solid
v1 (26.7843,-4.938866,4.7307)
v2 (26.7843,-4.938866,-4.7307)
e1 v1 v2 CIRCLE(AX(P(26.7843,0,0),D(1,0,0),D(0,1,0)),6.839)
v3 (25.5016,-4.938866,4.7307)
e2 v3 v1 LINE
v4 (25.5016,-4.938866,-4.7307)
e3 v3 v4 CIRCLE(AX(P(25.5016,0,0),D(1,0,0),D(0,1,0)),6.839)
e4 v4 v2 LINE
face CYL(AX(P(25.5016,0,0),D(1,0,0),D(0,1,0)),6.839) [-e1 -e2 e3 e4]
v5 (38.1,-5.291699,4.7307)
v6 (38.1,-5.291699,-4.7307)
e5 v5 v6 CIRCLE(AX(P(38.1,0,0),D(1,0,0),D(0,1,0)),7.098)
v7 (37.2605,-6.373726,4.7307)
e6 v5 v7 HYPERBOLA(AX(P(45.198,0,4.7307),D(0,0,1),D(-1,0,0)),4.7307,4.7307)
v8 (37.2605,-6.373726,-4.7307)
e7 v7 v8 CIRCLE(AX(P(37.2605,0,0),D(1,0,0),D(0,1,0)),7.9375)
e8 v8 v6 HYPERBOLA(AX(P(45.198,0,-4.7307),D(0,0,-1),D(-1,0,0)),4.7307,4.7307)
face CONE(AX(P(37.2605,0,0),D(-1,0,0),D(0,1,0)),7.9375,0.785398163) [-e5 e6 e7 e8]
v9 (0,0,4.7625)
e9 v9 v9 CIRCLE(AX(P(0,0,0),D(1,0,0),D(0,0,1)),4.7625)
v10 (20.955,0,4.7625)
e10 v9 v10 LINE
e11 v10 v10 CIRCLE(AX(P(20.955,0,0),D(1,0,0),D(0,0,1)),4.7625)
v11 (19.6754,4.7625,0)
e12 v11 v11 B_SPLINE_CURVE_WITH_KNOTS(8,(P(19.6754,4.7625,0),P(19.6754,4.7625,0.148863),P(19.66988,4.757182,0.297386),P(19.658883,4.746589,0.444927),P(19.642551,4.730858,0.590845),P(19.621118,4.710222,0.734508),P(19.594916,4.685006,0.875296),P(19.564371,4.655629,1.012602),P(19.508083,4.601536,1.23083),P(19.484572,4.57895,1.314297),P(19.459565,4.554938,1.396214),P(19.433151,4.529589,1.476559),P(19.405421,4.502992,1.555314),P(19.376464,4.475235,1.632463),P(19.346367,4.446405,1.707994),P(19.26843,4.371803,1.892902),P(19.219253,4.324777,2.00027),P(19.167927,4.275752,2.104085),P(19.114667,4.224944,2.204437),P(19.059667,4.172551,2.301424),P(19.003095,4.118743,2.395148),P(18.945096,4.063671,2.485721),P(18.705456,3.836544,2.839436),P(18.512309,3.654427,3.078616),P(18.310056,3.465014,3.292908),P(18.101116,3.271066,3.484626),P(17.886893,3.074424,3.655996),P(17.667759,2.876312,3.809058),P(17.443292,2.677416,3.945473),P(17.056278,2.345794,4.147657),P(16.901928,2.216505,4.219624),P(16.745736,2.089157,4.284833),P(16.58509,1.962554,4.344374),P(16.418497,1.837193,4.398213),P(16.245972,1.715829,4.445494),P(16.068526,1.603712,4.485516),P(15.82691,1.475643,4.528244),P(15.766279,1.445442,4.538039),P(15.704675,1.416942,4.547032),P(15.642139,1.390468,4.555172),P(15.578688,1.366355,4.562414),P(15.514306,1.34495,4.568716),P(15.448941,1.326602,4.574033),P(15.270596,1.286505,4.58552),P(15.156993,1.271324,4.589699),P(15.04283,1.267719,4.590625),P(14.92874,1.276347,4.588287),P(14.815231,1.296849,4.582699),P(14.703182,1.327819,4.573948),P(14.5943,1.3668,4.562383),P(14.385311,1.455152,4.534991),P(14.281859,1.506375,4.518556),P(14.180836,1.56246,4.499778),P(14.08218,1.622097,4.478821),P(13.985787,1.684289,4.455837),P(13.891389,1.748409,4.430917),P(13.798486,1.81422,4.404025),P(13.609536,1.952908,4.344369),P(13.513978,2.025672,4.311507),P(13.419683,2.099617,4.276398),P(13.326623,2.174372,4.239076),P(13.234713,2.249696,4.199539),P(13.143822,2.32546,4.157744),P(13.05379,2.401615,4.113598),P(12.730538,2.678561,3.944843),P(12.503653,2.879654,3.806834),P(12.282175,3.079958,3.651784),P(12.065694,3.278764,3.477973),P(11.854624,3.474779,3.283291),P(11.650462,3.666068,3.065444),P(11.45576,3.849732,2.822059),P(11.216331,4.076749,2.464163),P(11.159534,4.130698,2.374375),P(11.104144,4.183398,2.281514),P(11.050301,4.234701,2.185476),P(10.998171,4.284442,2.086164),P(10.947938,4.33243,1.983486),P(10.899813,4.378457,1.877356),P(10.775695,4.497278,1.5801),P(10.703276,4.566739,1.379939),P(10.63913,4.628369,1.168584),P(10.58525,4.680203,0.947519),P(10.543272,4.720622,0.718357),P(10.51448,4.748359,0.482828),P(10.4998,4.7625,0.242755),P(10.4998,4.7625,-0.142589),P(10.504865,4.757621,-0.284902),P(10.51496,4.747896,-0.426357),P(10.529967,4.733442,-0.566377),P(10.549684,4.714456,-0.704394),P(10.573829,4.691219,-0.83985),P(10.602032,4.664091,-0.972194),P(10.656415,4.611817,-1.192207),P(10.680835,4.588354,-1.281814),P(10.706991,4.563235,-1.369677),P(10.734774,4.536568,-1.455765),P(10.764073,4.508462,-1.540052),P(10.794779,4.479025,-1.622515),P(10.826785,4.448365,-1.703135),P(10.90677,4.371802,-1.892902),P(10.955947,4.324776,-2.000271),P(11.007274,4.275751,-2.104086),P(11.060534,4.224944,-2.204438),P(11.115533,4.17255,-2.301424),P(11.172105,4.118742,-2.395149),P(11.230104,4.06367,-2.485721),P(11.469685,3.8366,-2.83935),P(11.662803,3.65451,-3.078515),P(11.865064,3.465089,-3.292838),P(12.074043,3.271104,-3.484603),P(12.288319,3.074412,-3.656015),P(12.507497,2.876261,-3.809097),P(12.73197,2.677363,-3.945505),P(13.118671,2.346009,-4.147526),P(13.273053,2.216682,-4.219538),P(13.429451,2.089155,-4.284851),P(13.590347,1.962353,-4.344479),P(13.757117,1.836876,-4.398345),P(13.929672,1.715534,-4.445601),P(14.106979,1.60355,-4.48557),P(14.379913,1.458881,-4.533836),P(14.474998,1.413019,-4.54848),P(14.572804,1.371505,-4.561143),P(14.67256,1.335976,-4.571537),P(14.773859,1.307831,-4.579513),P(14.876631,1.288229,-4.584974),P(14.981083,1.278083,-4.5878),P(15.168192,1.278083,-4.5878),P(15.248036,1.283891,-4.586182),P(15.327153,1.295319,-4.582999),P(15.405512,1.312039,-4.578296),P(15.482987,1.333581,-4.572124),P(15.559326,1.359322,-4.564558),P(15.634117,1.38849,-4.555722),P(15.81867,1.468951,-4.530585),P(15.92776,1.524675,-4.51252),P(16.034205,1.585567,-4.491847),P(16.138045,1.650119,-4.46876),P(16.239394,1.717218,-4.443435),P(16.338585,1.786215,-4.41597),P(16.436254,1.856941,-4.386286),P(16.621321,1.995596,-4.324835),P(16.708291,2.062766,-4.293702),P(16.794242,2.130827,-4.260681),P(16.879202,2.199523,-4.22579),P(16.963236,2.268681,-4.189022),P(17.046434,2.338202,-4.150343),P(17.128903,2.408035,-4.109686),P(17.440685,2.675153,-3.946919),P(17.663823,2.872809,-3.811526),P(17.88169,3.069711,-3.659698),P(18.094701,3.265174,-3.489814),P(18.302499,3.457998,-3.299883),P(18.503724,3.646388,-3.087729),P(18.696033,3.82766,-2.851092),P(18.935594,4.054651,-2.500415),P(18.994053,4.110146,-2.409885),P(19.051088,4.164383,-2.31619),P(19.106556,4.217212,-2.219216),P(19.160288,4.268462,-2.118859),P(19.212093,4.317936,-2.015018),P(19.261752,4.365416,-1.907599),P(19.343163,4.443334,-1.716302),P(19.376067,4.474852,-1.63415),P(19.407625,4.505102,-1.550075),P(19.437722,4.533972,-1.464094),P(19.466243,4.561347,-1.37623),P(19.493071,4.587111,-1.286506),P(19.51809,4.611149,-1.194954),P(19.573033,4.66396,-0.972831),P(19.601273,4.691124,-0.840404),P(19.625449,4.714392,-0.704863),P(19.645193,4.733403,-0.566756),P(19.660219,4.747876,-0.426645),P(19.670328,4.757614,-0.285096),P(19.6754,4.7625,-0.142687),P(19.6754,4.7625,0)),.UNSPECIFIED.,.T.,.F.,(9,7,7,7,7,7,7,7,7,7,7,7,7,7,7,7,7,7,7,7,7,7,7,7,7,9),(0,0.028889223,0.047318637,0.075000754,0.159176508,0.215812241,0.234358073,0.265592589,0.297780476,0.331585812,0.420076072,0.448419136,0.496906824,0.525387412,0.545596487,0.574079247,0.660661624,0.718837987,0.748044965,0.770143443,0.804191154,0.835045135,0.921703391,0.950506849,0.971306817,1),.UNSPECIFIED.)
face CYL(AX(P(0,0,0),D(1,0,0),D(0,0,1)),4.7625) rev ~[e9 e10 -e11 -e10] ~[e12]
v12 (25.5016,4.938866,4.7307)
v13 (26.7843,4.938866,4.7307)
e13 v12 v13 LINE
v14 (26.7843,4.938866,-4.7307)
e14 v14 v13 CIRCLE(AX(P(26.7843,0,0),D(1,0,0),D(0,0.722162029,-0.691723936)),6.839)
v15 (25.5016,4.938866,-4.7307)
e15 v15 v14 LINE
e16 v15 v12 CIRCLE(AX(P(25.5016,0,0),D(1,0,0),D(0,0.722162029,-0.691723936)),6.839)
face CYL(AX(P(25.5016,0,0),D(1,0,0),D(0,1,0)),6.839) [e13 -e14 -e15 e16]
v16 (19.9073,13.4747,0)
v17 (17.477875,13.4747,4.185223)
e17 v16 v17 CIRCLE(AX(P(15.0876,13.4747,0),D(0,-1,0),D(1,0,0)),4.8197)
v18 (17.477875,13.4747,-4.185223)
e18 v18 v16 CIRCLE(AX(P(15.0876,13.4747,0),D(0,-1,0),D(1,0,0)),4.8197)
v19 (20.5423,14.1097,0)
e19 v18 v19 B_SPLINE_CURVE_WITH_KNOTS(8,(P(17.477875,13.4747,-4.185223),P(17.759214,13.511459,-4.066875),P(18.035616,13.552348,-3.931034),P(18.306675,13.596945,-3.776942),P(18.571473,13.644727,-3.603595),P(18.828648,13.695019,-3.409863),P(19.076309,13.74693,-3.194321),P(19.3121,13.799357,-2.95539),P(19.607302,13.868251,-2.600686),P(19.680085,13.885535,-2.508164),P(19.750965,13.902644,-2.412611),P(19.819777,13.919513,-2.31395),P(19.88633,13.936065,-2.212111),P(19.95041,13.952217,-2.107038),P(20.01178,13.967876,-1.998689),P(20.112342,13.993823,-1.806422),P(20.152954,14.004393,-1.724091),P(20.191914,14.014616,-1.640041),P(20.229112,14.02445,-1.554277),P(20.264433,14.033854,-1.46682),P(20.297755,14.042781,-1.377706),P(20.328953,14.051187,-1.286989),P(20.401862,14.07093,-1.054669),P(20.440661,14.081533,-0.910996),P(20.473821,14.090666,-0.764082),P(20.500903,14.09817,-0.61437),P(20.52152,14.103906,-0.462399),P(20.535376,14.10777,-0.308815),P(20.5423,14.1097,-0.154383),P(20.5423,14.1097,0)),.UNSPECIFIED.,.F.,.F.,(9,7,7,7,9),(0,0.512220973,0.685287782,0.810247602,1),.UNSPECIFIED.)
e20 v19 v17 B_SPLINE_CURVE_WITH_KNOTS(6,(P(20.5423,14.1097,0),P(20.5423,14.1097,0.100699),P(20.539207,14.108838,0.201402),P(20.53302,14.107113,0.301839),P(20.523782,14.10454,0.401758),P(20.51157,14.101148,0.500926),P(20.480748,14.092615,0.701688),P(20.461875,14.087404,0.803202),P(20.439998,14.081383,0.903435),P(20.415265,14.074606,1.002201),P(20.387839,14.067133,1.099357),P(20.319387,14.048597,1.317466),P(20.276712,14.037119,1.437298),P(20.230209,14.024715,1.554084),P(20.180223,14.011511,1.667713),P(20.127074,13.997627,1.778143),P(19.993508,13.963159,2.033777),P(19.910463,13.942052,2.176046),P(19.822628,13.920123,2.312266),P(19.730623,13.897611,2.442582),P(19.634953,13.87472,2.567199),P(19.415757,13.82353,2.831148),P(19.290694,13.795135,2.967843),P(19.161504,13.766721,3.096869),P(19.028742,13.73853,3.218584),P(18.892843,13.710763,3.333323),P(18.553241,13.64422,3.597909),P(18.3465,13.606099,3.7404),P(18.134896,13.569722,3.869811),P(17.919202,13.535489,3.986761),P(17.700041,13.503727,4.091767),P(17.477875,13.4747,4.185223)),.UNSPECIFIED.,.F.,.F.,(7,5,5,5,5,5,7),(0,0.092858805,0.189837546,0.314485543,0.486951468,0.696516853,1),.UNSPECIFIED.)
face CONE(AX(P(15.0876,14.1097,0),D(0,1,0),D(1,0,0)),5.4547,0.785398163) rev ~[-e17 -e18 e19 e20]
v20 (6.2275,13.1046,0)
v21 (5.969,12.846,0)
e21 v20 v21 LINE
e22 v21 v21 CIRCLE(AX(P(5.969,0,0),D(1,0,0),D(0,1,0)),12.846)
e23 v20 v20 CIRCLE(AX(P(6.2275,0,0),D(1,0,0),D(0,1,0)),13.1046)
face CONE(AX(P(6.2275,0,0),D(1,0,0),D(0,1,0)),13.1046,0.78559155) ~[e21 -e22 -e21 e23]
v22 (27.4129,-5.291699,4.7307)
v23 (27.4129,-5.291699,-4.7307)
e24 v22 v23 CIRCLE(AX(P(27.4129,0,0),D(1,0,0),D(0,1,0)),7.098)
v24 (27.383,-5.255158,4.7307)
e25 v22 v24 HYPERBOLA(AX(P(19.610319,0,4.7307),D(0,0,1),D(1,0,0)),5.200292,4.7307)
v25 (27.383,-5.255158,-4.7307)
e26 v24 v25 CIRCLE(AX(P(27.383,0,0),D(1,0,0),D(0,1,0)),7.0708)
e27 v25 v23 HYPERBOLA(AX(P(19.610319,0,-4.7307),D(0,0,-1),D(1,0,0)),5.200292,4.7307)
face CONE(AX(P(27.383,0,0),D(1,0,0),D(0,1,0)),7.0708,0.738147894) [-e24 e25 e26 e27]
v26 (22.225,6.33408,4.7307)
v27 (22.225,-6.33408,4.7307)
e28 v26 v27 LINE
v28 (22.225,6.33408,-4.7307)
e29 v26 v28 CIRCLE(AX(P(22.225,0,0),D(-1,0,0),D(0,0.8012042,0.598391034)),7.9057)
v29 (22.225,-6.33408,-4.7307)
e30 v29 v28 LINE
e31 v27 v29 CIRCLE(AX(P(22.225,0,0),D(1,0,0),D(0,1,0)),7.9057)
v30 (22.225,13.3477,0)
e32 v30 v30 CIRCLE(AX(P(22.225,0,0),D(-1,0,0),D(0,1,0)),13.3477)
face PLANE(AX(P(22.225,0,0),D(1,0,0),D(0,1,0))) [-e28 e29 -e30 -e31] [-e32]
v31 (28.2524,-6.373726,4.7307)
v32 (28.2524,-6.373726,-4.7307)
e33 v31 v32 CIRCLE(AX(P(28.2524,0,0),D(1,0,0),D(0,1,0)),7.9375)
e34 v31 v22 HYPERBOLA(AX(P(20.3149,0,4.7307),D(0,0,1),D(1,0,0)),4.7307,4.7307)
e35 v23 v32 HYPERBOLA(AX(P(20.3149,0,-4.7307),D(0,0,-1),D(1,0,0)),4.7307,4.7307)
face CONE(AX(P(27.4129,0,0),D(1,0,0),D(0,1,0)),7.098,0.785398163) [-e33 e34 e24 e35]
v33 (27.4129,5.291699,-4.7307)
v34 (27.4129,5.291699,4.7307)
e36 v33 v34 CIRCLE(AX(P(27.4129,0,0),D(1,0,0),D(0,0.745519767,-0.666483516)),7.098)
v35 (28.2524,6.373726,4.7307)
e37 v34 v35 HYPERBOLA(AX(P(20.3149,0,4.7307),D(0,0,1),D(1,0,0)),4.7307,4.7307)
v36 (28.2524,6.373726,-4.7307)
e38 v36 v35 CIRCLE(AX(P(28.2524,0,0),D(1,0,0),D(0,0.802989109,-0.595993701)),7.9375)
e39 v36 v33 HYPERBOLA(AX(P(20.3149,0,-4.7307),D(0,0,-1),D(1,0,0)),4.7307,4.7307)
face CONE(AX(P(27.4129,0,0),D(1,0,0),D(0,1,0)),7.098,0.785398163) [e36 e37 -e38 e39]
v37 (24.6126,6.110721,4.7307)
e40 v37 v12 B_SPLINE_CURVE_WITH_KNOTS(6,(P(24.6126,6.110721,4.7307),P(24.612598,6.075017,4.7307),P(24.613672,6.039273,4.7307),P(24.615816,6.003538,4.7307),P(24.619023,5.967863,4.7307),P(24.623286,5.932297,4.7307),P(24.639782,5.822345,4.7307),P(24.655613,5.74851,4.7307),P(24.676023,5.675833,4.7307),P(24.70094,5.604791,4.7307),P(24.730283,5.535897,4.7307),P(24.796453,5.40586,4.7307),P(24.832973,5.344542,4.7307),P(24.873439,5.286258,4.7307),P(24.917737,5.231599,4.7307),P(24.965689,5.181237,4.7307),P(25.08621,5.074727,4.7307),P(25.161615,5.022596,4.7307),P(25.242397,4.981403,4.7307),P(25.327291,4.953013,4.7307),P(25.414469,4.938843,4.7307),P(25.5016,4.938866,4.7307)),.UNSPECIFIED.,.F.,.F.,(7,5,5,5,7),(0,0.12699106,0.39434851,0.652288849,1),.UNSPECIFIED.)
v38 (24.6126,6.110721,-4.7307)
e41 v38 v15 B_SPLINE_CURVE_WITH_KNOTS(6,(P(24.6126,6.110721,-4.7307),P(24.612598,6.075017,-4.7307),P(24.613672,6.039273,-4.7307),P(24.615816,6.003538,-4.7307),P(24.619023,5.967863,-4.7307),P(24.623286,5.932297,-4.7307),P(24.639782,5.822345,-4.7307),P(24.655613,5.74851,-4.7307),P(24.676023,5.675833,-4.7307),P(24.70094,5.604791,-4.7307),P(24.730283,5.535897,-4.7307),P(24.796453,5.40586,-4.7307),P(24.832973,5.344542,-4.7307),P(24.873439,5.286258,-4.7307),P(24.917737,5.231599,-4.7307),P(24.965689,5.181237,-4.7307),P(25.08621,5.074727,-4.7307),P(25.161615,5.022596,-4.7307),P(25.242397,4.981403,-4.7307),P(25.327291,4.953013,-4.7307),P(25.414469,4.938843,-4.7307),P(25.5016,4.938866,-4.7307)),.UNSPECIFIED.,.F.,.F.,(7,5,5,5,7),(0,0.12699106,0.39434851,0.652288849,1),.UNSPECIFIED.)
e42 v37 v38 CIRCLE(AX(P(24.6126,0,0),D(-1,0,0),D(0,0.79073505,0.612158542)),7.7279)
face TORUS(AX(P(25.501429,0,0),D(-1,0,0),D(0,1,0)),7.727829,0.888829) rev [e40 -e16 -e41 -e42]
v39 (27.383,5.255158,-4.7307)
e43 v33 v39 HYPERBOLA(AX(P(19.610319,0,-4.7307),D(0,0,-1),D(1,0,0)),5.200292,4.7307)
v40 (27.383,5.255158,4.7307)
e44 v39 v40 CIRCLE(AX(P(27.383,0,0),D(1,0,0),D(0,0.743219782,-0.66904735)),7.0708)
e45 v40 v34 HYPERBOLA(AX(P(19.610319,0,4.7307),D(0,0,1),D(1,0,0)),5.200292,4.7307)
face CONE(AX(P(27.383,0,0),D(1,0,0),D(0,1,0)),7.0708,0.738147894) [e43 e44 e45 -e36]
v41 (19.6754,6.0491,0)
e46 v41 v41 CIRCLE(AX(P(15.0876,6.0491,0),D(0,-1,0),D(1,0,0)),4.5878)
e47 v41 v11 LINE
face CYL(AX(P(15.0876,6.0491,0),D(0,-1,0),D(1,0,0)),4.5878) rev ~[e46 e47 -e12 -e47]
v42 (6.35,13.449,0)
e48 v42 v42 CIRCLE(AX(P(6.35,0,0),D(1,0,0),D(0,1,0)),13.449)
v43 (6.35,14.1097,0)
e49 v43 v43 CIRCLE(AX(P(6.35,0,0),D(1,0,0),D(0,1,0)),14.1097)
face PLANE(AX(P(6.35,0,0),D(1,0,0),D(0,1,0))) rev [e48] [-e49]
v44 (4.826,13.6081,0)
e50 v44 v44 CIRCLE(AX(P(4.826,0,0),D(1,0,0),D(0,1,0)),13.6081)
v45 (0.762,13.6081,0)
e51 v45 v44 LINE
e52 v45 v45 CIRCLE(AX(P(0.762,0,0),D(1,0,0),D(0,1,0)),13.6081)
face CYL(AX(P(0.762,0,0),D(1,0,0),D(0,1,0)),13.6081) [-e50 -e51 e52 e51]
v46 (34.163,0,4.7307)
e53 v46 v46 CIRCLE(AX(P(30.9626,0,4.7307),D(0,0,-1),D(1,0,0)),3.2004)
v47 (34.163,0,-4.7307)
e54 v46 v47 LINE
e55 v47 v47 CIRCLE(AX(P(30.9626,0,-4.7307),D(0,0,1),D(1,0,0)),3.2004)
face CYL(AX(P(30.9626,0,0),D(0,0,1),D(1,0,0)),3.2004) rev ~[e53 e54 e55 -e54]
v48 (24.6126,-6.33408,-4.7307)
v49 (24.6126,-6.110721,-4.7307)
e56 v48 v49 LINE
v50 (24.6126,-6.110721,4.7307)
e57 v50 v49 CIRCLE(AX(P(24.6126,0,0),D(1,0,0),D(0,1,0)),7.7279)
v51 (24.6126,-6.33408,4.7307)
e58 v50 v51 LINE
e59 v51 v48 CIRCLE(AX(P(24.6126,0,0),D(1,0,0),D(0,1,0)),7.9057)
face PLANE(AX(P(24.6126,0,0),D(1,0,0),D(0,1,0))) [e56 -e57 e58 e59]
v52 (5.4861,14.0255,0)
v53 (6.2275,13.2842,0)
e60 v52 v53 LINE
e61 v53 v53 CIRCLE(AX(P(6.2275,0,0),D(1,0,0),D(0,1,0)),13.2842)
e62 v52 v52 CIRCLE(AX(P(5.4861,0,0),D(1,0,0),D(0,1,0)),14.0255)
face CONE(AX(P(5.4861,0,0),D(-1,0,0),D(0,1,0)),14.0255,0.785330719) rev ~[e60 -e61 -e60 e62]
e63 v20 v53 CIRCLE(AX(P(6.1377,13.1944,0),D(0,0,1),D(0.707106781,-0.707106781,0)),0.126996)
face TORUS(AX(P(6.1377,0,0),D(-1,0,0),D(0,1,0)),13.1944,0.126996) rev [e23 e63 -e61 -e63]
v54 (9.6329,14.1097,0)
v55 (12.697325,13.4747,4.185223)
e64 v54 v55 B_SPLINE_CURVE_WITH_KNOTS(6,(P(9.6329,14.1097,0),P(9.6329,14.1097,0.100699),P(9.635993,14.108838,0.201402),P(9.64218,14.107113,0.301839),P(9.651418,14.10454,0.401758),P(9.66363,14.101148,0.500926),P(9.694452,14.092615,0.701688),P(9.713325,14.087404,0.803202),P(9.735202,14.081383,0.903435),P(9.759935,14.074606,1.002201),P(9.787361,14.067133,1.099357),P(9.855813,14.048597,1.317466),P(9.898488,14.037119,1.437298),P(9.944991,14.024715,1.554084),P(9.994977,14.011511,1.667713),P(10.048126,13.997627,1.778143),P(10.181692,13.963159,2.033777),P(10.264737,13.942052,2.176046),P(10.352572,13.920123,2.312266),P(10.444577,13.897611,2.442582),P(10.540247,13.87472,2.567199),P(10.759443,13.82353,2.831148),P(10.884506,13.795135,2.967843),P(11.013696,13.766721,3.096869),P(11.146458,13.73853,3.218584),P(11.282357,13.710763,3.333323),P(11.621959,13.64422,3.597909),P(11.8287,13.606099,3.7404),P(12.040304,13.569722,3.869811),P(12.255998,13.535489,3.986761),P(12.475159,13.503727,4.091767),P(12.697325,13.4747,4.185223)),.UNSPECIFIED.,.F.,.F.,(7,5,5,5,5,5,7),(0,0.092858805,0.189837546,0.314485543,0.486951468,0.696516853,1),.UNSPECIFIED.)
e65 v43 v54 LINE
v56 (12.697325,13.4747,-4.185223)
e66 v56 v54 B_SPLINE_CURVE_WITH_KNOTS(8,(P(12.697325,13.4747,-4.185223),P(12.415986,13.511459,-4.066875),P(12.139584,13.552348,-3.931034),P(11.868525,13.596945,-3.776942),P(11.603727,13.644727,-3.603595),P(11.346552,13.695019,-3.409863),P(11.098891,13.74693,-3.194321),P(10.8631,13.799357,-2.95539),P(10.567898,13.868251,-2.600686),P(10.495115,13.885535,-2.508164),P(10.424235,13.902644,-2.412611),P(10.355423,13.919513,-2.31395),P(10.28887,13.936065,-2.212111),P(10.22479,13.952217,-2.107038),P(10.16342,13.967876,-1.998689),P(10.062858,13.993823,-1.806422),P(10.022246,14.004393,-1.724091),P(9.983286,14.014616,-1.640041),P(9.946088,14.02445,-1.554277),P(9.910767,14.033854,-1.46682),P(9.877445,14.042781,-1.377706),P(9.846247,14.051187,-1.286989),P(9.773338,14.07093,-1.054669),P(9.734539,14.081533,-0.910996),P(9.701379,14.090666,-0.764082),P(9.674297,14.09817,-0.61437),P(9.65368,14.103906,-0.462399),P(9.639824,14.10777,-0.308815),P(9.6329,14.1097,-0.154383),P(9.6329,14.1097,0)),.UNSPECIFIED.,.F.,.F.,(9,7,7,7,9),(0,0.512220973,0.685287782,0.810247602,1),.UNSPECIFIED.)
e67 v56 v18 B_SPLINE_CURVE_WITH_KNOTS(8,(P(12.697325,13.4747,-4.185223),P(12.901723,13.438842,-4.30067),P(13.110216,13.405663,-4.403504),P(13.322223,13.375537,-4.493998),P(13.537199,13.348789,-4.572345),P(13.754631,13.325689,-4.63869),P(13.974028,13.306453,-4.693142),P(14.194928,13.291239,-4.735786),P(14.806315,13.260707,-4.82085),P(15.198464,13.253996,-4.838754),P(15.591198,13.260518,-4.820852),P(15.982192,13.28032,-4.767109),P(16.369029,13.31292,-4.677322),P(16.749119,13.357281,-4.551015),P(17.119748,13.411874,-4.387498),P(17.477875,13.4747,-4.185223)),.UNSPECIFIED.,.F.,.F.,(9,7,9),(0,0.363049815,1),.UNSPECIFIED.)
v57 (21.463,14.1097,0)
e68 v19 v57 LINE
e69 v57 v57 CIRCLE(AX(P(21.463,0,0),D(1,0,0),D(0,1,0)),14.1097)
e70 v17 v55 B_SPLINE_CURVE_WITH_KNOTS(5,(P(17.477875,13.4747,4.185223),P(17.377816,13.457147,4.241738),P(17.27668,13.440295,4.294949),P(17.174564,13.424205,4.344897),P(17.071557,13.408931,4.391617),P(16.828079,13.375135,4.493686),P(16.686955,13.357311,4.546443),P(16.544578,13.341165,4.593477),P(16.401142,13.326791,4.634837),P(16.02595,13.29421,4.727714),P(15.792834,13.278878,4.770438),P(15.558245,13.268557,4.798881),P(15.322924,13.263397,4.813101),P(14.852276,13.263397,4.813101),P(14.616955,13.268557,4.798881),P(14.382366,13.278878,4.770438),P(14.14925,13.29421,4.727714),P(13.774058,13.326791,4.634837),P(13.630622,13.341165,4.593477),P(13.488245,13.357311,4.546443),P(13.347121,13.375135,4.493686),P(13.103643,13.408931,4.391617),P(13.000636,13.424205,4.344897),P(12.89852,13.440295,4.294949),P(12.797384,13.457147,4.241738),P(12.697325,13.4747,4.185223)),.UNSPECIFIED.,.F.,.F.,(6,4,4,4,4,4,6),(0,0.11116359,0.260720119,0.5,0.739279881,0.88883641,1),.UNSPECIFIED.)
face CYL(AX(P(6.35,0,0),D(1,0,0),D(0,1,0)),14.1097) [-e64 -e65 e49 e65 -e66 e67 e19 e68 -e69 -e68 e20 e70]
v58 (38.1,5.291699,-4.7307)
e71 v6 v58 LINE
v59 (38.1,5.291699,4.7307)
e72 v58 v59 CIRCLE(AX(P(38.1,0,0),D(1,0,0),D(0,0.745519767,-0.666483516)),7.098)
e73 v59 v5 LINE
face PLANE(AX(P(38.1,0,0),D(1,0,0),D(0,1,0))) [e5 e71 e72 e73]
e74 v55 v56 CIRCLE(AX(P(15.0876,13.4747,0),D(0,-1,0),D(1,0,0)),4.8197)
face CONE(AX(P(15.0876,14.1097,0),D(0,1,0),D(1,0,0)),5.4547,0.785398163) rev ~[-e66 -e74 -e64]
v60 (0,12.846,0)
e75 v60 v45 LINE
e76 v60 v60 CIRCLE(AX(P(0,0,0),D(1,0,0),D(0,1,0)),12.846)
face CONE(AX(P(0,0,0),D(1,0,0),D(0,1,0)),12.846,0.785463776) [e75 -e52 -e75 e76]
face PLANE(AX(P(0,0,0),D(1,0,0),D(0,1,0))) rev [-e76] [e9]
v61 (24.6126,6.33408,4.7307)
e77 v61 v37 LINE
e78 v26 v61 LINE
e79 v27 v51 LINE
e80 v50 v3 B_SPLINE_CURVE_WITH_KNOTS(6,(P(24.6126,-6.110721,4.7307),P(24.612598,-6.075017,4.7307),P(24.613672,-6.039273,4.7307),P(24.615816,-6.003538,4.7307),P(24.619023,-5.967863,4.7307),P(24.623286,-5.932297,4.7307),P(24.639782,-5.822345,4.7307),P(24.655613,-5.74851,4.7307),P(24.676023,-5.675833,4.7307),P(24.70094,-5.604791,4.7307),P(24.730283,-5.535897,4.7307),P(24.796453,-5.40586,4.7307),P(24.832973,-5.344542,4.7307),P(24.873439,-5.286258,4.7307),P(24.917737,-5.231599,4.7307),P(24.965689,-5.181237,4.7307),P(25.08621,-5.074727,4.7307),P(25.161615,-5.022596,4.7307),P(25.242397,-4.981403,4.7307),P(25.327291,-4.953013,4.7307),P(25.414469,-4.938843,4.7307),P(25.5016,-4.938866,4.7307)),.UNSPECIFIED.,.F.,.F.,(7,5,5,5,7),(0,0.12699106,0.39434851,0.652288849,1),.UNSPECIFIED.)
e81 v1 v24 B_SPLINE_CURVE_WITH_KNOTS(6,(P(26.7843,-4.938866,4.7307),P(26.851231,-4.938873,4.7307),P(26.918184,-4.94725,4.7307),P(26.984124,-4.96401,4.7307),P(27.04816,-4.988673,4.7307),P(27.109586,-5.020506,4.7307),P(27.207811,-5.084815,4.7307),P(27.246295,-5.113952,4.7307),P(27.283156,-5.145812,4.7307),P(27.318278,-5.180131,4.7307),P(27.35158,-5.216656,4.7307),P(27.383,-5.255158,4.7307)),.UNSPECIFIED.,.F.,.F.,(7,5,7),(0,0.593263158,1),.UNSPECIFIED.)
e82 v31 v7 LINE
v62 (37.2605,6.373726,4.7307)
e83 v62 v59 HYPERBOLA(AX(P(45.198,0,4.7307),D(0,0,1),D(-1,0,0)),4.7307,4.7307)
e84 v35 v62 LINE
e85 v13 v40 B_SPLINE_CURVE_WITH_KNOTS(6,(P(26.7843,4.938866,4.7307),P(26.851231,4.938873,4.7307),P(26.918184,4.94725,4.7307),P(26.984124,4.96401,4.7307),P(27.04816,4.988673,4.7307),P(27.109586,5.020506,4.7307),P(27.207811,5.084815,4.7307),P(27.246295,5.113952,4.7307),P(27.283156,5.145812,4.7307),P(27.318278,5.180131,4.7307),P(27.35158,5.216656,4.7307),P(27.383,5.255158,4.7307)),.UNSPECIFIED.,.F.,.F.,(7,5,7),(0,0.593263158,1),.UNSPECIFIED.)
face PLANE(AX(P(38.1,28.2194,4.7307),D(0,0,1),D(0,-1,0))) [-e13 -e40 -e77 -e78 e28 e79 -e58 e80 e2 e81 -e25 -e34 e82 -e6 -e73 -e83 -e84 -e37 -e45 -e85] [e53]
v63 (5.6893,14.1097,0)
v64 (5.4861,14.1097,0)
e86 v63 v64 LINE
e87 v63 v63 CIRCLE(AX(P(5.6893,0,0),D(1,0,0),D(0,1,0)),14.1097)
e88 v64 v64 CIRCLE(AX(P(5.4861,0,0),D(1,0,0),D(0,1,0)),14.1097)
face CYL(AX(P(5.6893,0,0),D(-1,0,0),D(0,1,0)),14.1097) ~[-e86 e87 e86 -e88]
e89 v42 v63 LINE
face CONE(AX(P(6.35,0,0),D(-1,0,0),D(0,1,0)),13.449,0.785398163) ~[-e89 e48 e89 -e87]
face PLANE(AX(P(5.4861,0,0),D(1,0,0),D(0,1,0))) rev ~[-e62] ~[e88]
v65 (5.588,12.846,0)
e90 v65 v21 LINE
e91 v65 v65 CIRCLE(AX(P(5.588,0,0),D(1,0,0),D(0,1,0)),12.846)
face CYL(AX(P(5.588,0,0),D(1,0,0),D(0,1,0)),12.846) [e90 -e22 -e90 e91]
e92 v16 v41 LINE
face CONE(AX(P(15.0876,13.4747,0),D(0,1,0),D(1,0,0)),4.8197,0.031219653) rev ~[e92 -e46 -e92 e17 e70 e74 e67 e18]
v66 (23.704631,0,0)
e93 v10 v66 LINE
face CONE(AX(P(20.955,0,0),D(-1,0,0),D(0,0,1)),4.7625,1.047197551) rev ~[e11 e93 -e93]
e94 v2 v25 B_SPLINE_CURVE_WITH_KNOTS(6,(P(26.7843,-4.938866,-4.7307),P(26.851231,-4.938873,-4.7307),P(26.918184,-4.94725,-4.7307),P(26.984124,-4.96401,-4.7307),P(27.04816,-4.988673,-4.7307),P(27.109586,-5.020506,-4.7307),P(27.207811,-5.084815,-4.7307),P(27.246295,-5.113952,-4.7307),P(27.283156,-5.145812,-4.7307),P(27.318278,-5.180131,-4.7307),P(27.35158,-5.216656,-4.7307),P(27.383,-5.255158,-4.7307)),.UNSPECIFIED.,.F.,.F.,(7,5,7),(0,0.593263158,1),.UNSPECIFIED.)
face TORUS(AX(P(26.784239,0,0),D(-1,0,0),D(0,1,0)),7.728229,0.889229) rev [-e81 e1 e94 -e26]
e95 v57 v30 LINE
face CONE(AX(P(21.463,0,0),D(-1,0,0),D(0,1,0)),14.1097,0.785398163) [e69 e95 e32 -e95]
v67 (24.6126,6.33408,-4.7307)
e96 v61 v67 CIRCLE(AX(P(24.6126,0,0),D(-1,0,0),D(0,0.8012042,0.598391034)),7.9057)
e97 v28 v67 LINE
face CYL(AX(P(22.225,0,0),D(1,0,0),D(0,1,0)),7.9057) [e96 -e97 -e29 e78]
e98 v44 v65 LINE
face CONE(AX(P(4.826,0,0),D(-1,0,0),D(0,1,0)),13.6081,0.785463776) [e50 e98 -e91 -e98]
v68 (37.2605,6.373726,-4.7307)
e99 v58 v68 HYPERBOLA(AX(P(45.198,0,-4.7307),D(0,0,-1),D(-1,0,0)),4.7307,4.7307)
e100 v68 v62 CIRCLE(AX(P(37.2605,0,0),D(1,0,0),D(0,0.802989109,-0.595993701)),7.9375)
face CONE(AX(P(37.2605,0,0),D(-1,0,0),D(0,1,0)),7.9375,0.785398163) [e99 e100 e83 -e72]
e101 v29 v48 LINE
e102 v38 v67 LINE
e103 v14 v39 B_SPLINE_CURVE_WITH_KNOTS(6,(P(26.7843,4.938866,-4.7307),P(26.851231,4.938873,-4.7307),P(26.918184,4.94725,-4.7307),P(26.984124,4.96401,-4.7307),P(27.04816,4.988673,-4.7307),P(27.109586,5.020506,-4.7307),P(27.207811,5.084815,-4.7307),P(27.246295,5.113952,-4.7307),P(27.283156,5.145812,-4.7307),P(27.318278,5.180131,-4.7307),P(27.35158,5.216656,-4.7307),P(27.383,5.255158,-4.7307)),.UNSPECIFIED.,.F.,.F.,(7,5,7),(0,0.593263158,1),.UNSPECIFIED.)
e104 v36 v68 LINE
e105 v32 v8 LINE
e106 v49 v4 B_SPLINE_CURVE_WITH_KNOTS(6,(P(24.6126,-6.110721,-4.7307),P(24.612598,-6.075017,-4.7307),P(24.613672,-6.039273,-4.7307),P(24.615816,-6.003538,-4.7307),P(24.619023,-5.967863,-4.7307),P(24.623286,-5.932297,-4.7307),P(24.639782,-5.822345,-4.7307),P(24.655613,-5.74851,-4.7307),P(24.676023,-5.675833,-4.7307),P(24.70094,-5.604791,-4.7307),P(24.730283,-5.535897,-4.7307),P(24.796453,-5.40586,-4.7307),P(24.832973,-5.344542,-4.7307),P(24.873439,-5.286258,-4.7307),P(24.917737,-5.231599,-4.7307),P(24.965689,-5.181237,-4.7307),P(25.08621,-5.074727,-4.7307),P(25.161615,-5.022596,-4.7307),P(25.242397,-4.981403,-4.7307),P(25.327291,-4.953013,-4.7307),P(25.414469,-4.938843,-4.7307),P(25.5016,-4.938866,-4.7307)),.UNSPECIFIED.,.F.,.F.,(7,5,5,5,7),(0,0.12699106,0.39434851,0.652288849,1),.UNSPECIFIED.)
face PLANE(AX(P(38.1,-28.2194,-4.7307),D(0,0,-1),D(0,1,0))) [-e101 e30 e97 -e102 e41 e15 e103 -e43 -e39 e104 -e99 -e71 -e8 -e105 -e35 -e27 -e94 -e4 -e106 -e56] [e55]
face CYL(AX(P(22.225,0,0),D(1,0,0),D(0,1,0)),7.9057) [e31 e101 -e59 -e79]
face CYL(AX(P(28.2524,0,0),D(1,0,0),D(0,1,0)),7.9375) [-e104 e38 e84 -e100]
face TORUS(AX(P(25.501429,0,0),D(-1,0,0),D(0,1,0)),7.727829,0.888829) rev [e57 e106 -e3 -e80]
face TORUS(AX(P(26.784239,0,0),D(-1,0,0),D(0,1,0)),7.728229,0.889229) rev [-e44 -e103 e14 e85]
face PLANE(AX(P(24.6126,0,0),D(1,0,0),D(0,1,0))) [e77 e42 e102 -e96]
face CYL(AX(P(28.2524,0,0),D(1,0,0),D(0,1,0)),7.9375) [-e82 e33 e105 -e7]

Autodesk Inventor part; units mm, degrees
sketch "Sketch_18" plane through (0, 0, 0) normal (0, 0, 1) x (1, 0, 0)
  line L0 (22.225, 0) -> (0, 0)
  line L1 (0, 0) -> (0, 12.846)
  line L2 (0, 12.846) -> (0.762, 13.6081)
  line L3 (0.762, 13.6081) -> (4.826, 13.6081)
  line L4 (4.826, 13.6081) -> (5.588, 12.846)
  line L5 (5.588, 12.846) -> (6.35, 12.846)
  line L6 (6.35, 12.846) -> (6.35, 14.1097)
  line L7 (6.35, 14.1097) -> (21.463, 14.1097)
  line L8 (21.463, 14.1097) -> (22.225, 13.3477)
  line L9 (22.225, 13.3477) -> (22.225, 0)
  line L10 (22.225, 0) -> (0, 0)
revolve "Revolution1" add sketch "Sketch_18" angle 360 about axis through (22.225, 0, 0) along (1, 0, 0)
sketch "Sketch_15" plane through (0, 0, 0) normal (0, 0, 1) x (1, 0, 0)
  line L0 (38.1, 0) -> (22.225, 0)
  line L1 (22.225, 0) -> (22.225, 7.9057)
  line L2 (22.225, 7.9057) -> (24.6126, 7.9057)
  line L3 (24.6126, 7.9057) -> (24.6126, 7.7279)
  arc A0 (24.6126, 7.7279) -> (25.5016, 6.839) centre (25.5016, 7.7279) ccw
  line L4 (25.5016, 6.839) -> (26.7843, 6.839)
  arc A1 (26.7843, 6.839) -> (27.383, 7.0708) centre (26.7843, 7.7279) ccw
  line L5 (27.383, 7.0708) -> (27.4129, 7.098)
  line L6 (27.4129, 7.098) -> (28.2524, 7.9375)
  line L7 (28.2524, 7.9375) -> (37.2605, 7.9375)
  line L8 (37.2605, 7.9375) -> (38.1, 7.098)
  line L9 (38.1, 7.098) -> (38.1, 0)
  line L10 (38.1, 0) -> (22.225, 0)
revolve "Revolution2" add sketch "Sketch_15" angle 360 about axis through (38.1, 0, 0) along (1, 0, 0)
thread "Thread1" size "5/8-18 UNF" class "2A" standard "ANSI Unified Screw Threads" full length
sketch "Sketch_9" plane through (38.1, 0, 0) normal (1, 0, 0) x (0, 0, -1)
  line L0 (-28.2194, -56.4388) -> (28.2194, -56.4388)
  line L1 (28.2194, -56.4388) -> (28.2194, 56.4388)
  line L2 (28.2194, 56.4388) -> (-28.2194, 56.4388)
  line L3 (-28.2194, 56.4388) -> (-28.2194, -56.4388)
  line L4 (-4.7307, -28.2194) -> (4.7307, -28.2194)
  line L5 (4.7307, -28.2194) -> (4.7307, 28.2194)
  line L6 (4.7307, 28.2194) -> (-4.7307, 28.2194)
  line L7 (-4.7307, 28.2194) -> (-4.7307, -28.2194)
extrude "Extrusion1" cut sketch "Sketch_9" against normal blind 15.875
sketch "Sketch4" plane through (0, 0, 0) normal (-1, 0, 0) x (0, 0, 1)
  point P0 (0, 0)
hole "Hole1" at (0, 0, 0) direction (1, 0, 0) diameter 9.525 depth 20.955 tip angle 120
sketch "Sketch_47" plane through (0, 0, 0) normal (0, 0, 1) x (1, 0, 0)
  line L0 (15.0876, 0) -> (15.0876, 14.1097)
  line L1 (15.0876, 14.1097) -> (20.5423, 14.1097)
  line L2 (20.5423, 14.1097) -> (19.9073, 13.4747)
  line L3 (19.9073, 13.4747) -> (19.6754, 6.0491)
  line L4 (19.6754, 6.0491) -> (19.6754, 0)
  line L5 (19.6754, 0) -> (15.0876, 0)
  line L6 (15.0876, 0) -> (15.0876, 14.1097)
revolve "Revolution3" cut sketch "Sketch_47" angle 360 about axis through (15.0876, 0, 0) along (0, -1, 0)
thread "Thread2" size "1/8" designation "1/8 - 27 NPT" standard "NPT" length 6.3022
sketch "Sketch_24" plane through (0, 0, 0) normal (0, 0, 1) x (1, 0, 0)
  line L0 (6.35, 0) -> (5.588, 0)
  line L1 (5.4861, 14.1097) -> (5.4861, 14.0255)
  line L2 (5.4861, 14.0255) -> (6.2275, 13.2842)
  arc A0 (6.2275, 13.1046) -> (6.2275, 13.2842) centre (6.1377, 13.1944) ccw
  line L3 (6.2275, 13.1046) -> (5.969, 12.846)
  line L4 (5.969, 12.846) -> (5.588, 12.846)
  line L5 (5.588, 12.846) -> (5.588, 12.5921)
  line L6 (5.588, 12.5921) -> (6.35, 12.5921)
  line L7 (6.35, 12.5921) -> (6.35, 13.449)
  line L8 (6.35, 13.449) -> (5.6893, 14.1097)
  line L9 (5.6893, 14.1097) -> (5.4861, 14.1097)
revolve "Revolution4" add sketch "Sketch_24" angle 360 about axis through (6.35, 0, 0) along (1, 0, 0)
sketch "Sketch_43" plane through (0, 0, 0) normal (0, 0, 1) x (1, 0, 0)
  circle A0 centre (30.9626, 0) radius 3.2004
extrude "Extrusion2" cut sketch "Sketch_43" along normal mid plane 14.1922
ref_plane "1_XY" through (24.6126, 0, 0) normal (1, 0, 0) x (0, 0, -1)
ref_plane "1_YZ" through (24.6126, 0, 0) normal (0, 0, -1) x (0, 1, 0)
ref_plane "1_ZX" through (24.6126, 0, 0) normal (0, 1, 0) x (1, 0, 0)
ref_plane "c1_XY" through (22.225, 7.9057, 0) normal (0, 0, 1) x (1, 0, 0)
ref_plane "c1_YZ" through (22.225, 7.9057, 0) normal (1, 0, 0) x (0, 1, 0)
ref_plane "c1_ZX" through (22.225, 7.9057, 0) normal (0, 1, 0) x (0, 0, 1)
ref_plane "c2_XY" through (22.225, -7.9057, 0) normal (0, 0, 1) x (1, 0, 0)
ref_plane "c2_YZ" through (22.225, -7.9057, 0) normal (1, 0, 0) x (0, 1, 0)
ref_plane "c2_ZX" through (22.225, -7.9057, 0) normal (0, 1, 0) x (0, 0, 1)
ref_plane "cc1_XY" through (22.225, 0, 0) normal (0, 0, 1) x (1, 0, 0)
ref_plane "cc1_YZ" through (22.225, 0, 0) normal (1, 0, 0) x (0, 1, 0)
ref_plane "cc1_ZX" through (22.225, 0, 0) normal (0, 1, 0) x (0, 0, 1)
ref_plane "cc2_XY" through (24.6126, 0, 0) normal (0, 0, 1) x (1, 0, 0)
ref_plane "cc2_YZ" through (24.6126, 0, 0) normal (1, 0, 0) x (0, 1, 0)
ref_plane "cc2_ZX" through (24.6126, 0, 0) normal (0, 1, 0) x (0, 0, 1)
ref_plane "lovra1_XY" through (33.3248, 0, 0) normal (1, 0, 0) x (0, 0, -1)
ref_plane "lovra1_YZ" through (33.3248, 0, 0) normal (0, 0, -1) x (0, 1, 0)
ref_plane "lovra1_ZX" through (33.3248, 0, 0) normal (0, 1, 0) x (1, 0, 0)
ref_plane "lovra2_XY" through (33.3248, 11.049, 0) normal (1, 0, 0) x (0, 0, -1)
ref_plane "lovra2_YZ" through (33.3248, 11.049, 0) normal (0, 0, -1) x (0, 1, 0)
ref_plane "lovra2_ZX" through (33.3248, 11.049, 0) normal (0, 1, 0) x (1, 0, 0)
ref_plane "lovra21_XY" through (0, 0, 5.2705) normal (1, 0, 0) x (0, 0, -1)
ref_plane "lovra21_YZ" through (0, 0, 5.2705) normal (0, 0, -1) x (0, 1, 0)
ref_plane "lovra21_ZX" through (0, 0, 5.2705) normal (0, 1, 0) x (1, 0, 0)
ref_plane "lovra22_XY" through (0, 0, -5.2705) normal (1, 0, 0) x (0, 0, -1)
ref_plane "lovra22_YZ" through (0, 0, -5.2705) normal (0, 0, -1) x (0, 1, 0)
ref_plane "lovra22_ZX" through (0, 0, -5.2705) normal (0, 1, 0) x (1, 0, 0)
ref_plane "lovra3_XY" through (33.3248, -11.049, 0) normal (1, 0, 0) x (0, 0, -1)
ref_plane "lovra3_YZ" through (33.3248, -11.049, 0) normal (0, 0, -1) x (0, 1, 0)
ref_plane "lovra3_ZX" through (33.3248, -11.049, 0) normal (0, 1, 0) x (1, 0, 0)
ref_plane "olen_XY" through (30.9626, 0, 0) normal (1, 0, 0) x (0, 0, -1)
ref_plane "olen_YZ" through (30.9626, 0, 0) normal (0, 0, -1) x (0, 1, 0)
ref_plane "olen_ZX" through (30.9626, 0, 0) normal (0, 1, 0) x (1, 0, 0)
ref_plane "p1_XY" through (38.1, 0, 4.7307) normal (1, 0, 0) x (0, 0, -1)
ref_plane "p1_YZ" through (38.1, 0, 4.7307) normal (0, 0, -1) x (0, 1, 0)
ref_plane "p1_ZX" through (38.1, 0, 4.7307) normal (0, 1, 0) x (1, 0, 0)
ref_plane "p2_XY" through (38.1, 0, -4.7307) normal (1, 0, 0) x (0, 0, -1)
ref_plane "p2_YZ" through (38.1, 0, -4.7307) normal (0, 0, -1) x (0, 1, 0)
ref_plane "p2_ZX" through (38.1, 0, -4.7307) normal (0, 1, 0) x (1, 0, 0)
ref_plane "port_XY" through (15.0876, 14.1097, 0) normal (0, 0, 1) x (1, 0, 0)
ref_plane "port_YZ" through (15.0876, 14.1097, 0) normal (1, 0, 0) x (0, 1, 0)
ref_plane "port_ZX" through (15.0876, 14.1097, 0) normal (0, 1, 0) x (0, 0, 1)
ref_plane "port2_XY" through (38.1, 0, 0) normal (1, 0, 0) x (0, 0, -1)
ref_plane "port2_YZ" through (38.1, 0, 0) normal (0, 0, -1) x (0, 1, 0)
ref_plane "port2_ZX" through (38.1, 0, 0) normal (0, 1, 0) x (1, 0, 0)
ref_plane "thd1_XY" through (38.1, 0, 7.9375) normal (1, 0, 0) x (0, 0, -1)
ref_plane "thd1_YZ" through (38.1, 0, 7.9375) normal (0, 0, -1) x (0, 1, 0)
ref_plane "thd1_ZX" through (38.1, 0, 7.9375) normal (0, 1, 0) x (1, 0, 0)
ref_plane "thd2_XY" through (38.1, 0, -7.9375) normal (1, 0, 0) x (0, 0, -1)
ref_plane "thd2_YZ" through (38.1, 0, -7.9375) normal (0, 0, -1) x (0, 1, 0)
ref_plane "thd2_ZX" through (38.1, 0, -7.9375) normal (0, 1, 0) x (1, 0, 0)
ref_plane "to_mounting_bracket_XY" through (22.225, 0, 0) normal (1, 0, 0) x (0, 0, -1)
ref_plane "to_mounting_bracket_YZ" through (22.225, 0, 0) normal (0, 0, -1) x (0, 1, 0)
ref_plane "to_mounting_bracket_ZX" through (22.225, 0, 0) normal (0, 1, 0) x (1, 0, 0)
ref_plane "to_nut_XY" through (24.6126, 0, 0) normal (1, 0, 0) x (0, 0, -1)
ref_plane "to_nut_YZ" through (24.6126, 0, 0) normal (0, 0, -1) x (0, 1, 0)
ref_plane "to_nut_ZX" through (24.6126, 0, 0) normal (0, 1, 0) x (1, 0, 0)
ref_plane "to_pin_XY" through (30.9626, 0, 0) normal (0, 0, 1) x (1, 0, 0)
ref_plane "to_pin_YZ" through (30.9626, 0, 0) normal (1, 0, 0) x (0, 1, 0)
ref_plane "to_pin_ZX" through (30.9626, 0, 0) normal (0, 1, 0) x (0, 0, 1)
ref_plane "to_screw_XY" through (15.0876, -7.0612, -10.2743) normal (0, 0, -1) x (1, 0, 0)
ref_plane "to_screw_YZ" through (15.0876, -7.0612, -10.2743) normal (1, 0, 0) x (0, -1, 0)
ref_plane "to_screw_ZX" through (15.0876, -7.0612, -10.2743) normal (0, -1, 0) x (0, 0, -1)
ref_plane "to_tube_XY" through (5.588, 0, 0) normal (1, 0, 0) x (0, 0, -1)
ref_plane "to_tube_YZ" through (5.588, 0, 0) normal (0, 0, -1) x (0, 1, 0)
ref_plane "to_tube_ZX" through (5.588, 0, 0) normal (0, 1, 0) x (1, 0, 0)
properties part number "09P0K000_rear_head"
